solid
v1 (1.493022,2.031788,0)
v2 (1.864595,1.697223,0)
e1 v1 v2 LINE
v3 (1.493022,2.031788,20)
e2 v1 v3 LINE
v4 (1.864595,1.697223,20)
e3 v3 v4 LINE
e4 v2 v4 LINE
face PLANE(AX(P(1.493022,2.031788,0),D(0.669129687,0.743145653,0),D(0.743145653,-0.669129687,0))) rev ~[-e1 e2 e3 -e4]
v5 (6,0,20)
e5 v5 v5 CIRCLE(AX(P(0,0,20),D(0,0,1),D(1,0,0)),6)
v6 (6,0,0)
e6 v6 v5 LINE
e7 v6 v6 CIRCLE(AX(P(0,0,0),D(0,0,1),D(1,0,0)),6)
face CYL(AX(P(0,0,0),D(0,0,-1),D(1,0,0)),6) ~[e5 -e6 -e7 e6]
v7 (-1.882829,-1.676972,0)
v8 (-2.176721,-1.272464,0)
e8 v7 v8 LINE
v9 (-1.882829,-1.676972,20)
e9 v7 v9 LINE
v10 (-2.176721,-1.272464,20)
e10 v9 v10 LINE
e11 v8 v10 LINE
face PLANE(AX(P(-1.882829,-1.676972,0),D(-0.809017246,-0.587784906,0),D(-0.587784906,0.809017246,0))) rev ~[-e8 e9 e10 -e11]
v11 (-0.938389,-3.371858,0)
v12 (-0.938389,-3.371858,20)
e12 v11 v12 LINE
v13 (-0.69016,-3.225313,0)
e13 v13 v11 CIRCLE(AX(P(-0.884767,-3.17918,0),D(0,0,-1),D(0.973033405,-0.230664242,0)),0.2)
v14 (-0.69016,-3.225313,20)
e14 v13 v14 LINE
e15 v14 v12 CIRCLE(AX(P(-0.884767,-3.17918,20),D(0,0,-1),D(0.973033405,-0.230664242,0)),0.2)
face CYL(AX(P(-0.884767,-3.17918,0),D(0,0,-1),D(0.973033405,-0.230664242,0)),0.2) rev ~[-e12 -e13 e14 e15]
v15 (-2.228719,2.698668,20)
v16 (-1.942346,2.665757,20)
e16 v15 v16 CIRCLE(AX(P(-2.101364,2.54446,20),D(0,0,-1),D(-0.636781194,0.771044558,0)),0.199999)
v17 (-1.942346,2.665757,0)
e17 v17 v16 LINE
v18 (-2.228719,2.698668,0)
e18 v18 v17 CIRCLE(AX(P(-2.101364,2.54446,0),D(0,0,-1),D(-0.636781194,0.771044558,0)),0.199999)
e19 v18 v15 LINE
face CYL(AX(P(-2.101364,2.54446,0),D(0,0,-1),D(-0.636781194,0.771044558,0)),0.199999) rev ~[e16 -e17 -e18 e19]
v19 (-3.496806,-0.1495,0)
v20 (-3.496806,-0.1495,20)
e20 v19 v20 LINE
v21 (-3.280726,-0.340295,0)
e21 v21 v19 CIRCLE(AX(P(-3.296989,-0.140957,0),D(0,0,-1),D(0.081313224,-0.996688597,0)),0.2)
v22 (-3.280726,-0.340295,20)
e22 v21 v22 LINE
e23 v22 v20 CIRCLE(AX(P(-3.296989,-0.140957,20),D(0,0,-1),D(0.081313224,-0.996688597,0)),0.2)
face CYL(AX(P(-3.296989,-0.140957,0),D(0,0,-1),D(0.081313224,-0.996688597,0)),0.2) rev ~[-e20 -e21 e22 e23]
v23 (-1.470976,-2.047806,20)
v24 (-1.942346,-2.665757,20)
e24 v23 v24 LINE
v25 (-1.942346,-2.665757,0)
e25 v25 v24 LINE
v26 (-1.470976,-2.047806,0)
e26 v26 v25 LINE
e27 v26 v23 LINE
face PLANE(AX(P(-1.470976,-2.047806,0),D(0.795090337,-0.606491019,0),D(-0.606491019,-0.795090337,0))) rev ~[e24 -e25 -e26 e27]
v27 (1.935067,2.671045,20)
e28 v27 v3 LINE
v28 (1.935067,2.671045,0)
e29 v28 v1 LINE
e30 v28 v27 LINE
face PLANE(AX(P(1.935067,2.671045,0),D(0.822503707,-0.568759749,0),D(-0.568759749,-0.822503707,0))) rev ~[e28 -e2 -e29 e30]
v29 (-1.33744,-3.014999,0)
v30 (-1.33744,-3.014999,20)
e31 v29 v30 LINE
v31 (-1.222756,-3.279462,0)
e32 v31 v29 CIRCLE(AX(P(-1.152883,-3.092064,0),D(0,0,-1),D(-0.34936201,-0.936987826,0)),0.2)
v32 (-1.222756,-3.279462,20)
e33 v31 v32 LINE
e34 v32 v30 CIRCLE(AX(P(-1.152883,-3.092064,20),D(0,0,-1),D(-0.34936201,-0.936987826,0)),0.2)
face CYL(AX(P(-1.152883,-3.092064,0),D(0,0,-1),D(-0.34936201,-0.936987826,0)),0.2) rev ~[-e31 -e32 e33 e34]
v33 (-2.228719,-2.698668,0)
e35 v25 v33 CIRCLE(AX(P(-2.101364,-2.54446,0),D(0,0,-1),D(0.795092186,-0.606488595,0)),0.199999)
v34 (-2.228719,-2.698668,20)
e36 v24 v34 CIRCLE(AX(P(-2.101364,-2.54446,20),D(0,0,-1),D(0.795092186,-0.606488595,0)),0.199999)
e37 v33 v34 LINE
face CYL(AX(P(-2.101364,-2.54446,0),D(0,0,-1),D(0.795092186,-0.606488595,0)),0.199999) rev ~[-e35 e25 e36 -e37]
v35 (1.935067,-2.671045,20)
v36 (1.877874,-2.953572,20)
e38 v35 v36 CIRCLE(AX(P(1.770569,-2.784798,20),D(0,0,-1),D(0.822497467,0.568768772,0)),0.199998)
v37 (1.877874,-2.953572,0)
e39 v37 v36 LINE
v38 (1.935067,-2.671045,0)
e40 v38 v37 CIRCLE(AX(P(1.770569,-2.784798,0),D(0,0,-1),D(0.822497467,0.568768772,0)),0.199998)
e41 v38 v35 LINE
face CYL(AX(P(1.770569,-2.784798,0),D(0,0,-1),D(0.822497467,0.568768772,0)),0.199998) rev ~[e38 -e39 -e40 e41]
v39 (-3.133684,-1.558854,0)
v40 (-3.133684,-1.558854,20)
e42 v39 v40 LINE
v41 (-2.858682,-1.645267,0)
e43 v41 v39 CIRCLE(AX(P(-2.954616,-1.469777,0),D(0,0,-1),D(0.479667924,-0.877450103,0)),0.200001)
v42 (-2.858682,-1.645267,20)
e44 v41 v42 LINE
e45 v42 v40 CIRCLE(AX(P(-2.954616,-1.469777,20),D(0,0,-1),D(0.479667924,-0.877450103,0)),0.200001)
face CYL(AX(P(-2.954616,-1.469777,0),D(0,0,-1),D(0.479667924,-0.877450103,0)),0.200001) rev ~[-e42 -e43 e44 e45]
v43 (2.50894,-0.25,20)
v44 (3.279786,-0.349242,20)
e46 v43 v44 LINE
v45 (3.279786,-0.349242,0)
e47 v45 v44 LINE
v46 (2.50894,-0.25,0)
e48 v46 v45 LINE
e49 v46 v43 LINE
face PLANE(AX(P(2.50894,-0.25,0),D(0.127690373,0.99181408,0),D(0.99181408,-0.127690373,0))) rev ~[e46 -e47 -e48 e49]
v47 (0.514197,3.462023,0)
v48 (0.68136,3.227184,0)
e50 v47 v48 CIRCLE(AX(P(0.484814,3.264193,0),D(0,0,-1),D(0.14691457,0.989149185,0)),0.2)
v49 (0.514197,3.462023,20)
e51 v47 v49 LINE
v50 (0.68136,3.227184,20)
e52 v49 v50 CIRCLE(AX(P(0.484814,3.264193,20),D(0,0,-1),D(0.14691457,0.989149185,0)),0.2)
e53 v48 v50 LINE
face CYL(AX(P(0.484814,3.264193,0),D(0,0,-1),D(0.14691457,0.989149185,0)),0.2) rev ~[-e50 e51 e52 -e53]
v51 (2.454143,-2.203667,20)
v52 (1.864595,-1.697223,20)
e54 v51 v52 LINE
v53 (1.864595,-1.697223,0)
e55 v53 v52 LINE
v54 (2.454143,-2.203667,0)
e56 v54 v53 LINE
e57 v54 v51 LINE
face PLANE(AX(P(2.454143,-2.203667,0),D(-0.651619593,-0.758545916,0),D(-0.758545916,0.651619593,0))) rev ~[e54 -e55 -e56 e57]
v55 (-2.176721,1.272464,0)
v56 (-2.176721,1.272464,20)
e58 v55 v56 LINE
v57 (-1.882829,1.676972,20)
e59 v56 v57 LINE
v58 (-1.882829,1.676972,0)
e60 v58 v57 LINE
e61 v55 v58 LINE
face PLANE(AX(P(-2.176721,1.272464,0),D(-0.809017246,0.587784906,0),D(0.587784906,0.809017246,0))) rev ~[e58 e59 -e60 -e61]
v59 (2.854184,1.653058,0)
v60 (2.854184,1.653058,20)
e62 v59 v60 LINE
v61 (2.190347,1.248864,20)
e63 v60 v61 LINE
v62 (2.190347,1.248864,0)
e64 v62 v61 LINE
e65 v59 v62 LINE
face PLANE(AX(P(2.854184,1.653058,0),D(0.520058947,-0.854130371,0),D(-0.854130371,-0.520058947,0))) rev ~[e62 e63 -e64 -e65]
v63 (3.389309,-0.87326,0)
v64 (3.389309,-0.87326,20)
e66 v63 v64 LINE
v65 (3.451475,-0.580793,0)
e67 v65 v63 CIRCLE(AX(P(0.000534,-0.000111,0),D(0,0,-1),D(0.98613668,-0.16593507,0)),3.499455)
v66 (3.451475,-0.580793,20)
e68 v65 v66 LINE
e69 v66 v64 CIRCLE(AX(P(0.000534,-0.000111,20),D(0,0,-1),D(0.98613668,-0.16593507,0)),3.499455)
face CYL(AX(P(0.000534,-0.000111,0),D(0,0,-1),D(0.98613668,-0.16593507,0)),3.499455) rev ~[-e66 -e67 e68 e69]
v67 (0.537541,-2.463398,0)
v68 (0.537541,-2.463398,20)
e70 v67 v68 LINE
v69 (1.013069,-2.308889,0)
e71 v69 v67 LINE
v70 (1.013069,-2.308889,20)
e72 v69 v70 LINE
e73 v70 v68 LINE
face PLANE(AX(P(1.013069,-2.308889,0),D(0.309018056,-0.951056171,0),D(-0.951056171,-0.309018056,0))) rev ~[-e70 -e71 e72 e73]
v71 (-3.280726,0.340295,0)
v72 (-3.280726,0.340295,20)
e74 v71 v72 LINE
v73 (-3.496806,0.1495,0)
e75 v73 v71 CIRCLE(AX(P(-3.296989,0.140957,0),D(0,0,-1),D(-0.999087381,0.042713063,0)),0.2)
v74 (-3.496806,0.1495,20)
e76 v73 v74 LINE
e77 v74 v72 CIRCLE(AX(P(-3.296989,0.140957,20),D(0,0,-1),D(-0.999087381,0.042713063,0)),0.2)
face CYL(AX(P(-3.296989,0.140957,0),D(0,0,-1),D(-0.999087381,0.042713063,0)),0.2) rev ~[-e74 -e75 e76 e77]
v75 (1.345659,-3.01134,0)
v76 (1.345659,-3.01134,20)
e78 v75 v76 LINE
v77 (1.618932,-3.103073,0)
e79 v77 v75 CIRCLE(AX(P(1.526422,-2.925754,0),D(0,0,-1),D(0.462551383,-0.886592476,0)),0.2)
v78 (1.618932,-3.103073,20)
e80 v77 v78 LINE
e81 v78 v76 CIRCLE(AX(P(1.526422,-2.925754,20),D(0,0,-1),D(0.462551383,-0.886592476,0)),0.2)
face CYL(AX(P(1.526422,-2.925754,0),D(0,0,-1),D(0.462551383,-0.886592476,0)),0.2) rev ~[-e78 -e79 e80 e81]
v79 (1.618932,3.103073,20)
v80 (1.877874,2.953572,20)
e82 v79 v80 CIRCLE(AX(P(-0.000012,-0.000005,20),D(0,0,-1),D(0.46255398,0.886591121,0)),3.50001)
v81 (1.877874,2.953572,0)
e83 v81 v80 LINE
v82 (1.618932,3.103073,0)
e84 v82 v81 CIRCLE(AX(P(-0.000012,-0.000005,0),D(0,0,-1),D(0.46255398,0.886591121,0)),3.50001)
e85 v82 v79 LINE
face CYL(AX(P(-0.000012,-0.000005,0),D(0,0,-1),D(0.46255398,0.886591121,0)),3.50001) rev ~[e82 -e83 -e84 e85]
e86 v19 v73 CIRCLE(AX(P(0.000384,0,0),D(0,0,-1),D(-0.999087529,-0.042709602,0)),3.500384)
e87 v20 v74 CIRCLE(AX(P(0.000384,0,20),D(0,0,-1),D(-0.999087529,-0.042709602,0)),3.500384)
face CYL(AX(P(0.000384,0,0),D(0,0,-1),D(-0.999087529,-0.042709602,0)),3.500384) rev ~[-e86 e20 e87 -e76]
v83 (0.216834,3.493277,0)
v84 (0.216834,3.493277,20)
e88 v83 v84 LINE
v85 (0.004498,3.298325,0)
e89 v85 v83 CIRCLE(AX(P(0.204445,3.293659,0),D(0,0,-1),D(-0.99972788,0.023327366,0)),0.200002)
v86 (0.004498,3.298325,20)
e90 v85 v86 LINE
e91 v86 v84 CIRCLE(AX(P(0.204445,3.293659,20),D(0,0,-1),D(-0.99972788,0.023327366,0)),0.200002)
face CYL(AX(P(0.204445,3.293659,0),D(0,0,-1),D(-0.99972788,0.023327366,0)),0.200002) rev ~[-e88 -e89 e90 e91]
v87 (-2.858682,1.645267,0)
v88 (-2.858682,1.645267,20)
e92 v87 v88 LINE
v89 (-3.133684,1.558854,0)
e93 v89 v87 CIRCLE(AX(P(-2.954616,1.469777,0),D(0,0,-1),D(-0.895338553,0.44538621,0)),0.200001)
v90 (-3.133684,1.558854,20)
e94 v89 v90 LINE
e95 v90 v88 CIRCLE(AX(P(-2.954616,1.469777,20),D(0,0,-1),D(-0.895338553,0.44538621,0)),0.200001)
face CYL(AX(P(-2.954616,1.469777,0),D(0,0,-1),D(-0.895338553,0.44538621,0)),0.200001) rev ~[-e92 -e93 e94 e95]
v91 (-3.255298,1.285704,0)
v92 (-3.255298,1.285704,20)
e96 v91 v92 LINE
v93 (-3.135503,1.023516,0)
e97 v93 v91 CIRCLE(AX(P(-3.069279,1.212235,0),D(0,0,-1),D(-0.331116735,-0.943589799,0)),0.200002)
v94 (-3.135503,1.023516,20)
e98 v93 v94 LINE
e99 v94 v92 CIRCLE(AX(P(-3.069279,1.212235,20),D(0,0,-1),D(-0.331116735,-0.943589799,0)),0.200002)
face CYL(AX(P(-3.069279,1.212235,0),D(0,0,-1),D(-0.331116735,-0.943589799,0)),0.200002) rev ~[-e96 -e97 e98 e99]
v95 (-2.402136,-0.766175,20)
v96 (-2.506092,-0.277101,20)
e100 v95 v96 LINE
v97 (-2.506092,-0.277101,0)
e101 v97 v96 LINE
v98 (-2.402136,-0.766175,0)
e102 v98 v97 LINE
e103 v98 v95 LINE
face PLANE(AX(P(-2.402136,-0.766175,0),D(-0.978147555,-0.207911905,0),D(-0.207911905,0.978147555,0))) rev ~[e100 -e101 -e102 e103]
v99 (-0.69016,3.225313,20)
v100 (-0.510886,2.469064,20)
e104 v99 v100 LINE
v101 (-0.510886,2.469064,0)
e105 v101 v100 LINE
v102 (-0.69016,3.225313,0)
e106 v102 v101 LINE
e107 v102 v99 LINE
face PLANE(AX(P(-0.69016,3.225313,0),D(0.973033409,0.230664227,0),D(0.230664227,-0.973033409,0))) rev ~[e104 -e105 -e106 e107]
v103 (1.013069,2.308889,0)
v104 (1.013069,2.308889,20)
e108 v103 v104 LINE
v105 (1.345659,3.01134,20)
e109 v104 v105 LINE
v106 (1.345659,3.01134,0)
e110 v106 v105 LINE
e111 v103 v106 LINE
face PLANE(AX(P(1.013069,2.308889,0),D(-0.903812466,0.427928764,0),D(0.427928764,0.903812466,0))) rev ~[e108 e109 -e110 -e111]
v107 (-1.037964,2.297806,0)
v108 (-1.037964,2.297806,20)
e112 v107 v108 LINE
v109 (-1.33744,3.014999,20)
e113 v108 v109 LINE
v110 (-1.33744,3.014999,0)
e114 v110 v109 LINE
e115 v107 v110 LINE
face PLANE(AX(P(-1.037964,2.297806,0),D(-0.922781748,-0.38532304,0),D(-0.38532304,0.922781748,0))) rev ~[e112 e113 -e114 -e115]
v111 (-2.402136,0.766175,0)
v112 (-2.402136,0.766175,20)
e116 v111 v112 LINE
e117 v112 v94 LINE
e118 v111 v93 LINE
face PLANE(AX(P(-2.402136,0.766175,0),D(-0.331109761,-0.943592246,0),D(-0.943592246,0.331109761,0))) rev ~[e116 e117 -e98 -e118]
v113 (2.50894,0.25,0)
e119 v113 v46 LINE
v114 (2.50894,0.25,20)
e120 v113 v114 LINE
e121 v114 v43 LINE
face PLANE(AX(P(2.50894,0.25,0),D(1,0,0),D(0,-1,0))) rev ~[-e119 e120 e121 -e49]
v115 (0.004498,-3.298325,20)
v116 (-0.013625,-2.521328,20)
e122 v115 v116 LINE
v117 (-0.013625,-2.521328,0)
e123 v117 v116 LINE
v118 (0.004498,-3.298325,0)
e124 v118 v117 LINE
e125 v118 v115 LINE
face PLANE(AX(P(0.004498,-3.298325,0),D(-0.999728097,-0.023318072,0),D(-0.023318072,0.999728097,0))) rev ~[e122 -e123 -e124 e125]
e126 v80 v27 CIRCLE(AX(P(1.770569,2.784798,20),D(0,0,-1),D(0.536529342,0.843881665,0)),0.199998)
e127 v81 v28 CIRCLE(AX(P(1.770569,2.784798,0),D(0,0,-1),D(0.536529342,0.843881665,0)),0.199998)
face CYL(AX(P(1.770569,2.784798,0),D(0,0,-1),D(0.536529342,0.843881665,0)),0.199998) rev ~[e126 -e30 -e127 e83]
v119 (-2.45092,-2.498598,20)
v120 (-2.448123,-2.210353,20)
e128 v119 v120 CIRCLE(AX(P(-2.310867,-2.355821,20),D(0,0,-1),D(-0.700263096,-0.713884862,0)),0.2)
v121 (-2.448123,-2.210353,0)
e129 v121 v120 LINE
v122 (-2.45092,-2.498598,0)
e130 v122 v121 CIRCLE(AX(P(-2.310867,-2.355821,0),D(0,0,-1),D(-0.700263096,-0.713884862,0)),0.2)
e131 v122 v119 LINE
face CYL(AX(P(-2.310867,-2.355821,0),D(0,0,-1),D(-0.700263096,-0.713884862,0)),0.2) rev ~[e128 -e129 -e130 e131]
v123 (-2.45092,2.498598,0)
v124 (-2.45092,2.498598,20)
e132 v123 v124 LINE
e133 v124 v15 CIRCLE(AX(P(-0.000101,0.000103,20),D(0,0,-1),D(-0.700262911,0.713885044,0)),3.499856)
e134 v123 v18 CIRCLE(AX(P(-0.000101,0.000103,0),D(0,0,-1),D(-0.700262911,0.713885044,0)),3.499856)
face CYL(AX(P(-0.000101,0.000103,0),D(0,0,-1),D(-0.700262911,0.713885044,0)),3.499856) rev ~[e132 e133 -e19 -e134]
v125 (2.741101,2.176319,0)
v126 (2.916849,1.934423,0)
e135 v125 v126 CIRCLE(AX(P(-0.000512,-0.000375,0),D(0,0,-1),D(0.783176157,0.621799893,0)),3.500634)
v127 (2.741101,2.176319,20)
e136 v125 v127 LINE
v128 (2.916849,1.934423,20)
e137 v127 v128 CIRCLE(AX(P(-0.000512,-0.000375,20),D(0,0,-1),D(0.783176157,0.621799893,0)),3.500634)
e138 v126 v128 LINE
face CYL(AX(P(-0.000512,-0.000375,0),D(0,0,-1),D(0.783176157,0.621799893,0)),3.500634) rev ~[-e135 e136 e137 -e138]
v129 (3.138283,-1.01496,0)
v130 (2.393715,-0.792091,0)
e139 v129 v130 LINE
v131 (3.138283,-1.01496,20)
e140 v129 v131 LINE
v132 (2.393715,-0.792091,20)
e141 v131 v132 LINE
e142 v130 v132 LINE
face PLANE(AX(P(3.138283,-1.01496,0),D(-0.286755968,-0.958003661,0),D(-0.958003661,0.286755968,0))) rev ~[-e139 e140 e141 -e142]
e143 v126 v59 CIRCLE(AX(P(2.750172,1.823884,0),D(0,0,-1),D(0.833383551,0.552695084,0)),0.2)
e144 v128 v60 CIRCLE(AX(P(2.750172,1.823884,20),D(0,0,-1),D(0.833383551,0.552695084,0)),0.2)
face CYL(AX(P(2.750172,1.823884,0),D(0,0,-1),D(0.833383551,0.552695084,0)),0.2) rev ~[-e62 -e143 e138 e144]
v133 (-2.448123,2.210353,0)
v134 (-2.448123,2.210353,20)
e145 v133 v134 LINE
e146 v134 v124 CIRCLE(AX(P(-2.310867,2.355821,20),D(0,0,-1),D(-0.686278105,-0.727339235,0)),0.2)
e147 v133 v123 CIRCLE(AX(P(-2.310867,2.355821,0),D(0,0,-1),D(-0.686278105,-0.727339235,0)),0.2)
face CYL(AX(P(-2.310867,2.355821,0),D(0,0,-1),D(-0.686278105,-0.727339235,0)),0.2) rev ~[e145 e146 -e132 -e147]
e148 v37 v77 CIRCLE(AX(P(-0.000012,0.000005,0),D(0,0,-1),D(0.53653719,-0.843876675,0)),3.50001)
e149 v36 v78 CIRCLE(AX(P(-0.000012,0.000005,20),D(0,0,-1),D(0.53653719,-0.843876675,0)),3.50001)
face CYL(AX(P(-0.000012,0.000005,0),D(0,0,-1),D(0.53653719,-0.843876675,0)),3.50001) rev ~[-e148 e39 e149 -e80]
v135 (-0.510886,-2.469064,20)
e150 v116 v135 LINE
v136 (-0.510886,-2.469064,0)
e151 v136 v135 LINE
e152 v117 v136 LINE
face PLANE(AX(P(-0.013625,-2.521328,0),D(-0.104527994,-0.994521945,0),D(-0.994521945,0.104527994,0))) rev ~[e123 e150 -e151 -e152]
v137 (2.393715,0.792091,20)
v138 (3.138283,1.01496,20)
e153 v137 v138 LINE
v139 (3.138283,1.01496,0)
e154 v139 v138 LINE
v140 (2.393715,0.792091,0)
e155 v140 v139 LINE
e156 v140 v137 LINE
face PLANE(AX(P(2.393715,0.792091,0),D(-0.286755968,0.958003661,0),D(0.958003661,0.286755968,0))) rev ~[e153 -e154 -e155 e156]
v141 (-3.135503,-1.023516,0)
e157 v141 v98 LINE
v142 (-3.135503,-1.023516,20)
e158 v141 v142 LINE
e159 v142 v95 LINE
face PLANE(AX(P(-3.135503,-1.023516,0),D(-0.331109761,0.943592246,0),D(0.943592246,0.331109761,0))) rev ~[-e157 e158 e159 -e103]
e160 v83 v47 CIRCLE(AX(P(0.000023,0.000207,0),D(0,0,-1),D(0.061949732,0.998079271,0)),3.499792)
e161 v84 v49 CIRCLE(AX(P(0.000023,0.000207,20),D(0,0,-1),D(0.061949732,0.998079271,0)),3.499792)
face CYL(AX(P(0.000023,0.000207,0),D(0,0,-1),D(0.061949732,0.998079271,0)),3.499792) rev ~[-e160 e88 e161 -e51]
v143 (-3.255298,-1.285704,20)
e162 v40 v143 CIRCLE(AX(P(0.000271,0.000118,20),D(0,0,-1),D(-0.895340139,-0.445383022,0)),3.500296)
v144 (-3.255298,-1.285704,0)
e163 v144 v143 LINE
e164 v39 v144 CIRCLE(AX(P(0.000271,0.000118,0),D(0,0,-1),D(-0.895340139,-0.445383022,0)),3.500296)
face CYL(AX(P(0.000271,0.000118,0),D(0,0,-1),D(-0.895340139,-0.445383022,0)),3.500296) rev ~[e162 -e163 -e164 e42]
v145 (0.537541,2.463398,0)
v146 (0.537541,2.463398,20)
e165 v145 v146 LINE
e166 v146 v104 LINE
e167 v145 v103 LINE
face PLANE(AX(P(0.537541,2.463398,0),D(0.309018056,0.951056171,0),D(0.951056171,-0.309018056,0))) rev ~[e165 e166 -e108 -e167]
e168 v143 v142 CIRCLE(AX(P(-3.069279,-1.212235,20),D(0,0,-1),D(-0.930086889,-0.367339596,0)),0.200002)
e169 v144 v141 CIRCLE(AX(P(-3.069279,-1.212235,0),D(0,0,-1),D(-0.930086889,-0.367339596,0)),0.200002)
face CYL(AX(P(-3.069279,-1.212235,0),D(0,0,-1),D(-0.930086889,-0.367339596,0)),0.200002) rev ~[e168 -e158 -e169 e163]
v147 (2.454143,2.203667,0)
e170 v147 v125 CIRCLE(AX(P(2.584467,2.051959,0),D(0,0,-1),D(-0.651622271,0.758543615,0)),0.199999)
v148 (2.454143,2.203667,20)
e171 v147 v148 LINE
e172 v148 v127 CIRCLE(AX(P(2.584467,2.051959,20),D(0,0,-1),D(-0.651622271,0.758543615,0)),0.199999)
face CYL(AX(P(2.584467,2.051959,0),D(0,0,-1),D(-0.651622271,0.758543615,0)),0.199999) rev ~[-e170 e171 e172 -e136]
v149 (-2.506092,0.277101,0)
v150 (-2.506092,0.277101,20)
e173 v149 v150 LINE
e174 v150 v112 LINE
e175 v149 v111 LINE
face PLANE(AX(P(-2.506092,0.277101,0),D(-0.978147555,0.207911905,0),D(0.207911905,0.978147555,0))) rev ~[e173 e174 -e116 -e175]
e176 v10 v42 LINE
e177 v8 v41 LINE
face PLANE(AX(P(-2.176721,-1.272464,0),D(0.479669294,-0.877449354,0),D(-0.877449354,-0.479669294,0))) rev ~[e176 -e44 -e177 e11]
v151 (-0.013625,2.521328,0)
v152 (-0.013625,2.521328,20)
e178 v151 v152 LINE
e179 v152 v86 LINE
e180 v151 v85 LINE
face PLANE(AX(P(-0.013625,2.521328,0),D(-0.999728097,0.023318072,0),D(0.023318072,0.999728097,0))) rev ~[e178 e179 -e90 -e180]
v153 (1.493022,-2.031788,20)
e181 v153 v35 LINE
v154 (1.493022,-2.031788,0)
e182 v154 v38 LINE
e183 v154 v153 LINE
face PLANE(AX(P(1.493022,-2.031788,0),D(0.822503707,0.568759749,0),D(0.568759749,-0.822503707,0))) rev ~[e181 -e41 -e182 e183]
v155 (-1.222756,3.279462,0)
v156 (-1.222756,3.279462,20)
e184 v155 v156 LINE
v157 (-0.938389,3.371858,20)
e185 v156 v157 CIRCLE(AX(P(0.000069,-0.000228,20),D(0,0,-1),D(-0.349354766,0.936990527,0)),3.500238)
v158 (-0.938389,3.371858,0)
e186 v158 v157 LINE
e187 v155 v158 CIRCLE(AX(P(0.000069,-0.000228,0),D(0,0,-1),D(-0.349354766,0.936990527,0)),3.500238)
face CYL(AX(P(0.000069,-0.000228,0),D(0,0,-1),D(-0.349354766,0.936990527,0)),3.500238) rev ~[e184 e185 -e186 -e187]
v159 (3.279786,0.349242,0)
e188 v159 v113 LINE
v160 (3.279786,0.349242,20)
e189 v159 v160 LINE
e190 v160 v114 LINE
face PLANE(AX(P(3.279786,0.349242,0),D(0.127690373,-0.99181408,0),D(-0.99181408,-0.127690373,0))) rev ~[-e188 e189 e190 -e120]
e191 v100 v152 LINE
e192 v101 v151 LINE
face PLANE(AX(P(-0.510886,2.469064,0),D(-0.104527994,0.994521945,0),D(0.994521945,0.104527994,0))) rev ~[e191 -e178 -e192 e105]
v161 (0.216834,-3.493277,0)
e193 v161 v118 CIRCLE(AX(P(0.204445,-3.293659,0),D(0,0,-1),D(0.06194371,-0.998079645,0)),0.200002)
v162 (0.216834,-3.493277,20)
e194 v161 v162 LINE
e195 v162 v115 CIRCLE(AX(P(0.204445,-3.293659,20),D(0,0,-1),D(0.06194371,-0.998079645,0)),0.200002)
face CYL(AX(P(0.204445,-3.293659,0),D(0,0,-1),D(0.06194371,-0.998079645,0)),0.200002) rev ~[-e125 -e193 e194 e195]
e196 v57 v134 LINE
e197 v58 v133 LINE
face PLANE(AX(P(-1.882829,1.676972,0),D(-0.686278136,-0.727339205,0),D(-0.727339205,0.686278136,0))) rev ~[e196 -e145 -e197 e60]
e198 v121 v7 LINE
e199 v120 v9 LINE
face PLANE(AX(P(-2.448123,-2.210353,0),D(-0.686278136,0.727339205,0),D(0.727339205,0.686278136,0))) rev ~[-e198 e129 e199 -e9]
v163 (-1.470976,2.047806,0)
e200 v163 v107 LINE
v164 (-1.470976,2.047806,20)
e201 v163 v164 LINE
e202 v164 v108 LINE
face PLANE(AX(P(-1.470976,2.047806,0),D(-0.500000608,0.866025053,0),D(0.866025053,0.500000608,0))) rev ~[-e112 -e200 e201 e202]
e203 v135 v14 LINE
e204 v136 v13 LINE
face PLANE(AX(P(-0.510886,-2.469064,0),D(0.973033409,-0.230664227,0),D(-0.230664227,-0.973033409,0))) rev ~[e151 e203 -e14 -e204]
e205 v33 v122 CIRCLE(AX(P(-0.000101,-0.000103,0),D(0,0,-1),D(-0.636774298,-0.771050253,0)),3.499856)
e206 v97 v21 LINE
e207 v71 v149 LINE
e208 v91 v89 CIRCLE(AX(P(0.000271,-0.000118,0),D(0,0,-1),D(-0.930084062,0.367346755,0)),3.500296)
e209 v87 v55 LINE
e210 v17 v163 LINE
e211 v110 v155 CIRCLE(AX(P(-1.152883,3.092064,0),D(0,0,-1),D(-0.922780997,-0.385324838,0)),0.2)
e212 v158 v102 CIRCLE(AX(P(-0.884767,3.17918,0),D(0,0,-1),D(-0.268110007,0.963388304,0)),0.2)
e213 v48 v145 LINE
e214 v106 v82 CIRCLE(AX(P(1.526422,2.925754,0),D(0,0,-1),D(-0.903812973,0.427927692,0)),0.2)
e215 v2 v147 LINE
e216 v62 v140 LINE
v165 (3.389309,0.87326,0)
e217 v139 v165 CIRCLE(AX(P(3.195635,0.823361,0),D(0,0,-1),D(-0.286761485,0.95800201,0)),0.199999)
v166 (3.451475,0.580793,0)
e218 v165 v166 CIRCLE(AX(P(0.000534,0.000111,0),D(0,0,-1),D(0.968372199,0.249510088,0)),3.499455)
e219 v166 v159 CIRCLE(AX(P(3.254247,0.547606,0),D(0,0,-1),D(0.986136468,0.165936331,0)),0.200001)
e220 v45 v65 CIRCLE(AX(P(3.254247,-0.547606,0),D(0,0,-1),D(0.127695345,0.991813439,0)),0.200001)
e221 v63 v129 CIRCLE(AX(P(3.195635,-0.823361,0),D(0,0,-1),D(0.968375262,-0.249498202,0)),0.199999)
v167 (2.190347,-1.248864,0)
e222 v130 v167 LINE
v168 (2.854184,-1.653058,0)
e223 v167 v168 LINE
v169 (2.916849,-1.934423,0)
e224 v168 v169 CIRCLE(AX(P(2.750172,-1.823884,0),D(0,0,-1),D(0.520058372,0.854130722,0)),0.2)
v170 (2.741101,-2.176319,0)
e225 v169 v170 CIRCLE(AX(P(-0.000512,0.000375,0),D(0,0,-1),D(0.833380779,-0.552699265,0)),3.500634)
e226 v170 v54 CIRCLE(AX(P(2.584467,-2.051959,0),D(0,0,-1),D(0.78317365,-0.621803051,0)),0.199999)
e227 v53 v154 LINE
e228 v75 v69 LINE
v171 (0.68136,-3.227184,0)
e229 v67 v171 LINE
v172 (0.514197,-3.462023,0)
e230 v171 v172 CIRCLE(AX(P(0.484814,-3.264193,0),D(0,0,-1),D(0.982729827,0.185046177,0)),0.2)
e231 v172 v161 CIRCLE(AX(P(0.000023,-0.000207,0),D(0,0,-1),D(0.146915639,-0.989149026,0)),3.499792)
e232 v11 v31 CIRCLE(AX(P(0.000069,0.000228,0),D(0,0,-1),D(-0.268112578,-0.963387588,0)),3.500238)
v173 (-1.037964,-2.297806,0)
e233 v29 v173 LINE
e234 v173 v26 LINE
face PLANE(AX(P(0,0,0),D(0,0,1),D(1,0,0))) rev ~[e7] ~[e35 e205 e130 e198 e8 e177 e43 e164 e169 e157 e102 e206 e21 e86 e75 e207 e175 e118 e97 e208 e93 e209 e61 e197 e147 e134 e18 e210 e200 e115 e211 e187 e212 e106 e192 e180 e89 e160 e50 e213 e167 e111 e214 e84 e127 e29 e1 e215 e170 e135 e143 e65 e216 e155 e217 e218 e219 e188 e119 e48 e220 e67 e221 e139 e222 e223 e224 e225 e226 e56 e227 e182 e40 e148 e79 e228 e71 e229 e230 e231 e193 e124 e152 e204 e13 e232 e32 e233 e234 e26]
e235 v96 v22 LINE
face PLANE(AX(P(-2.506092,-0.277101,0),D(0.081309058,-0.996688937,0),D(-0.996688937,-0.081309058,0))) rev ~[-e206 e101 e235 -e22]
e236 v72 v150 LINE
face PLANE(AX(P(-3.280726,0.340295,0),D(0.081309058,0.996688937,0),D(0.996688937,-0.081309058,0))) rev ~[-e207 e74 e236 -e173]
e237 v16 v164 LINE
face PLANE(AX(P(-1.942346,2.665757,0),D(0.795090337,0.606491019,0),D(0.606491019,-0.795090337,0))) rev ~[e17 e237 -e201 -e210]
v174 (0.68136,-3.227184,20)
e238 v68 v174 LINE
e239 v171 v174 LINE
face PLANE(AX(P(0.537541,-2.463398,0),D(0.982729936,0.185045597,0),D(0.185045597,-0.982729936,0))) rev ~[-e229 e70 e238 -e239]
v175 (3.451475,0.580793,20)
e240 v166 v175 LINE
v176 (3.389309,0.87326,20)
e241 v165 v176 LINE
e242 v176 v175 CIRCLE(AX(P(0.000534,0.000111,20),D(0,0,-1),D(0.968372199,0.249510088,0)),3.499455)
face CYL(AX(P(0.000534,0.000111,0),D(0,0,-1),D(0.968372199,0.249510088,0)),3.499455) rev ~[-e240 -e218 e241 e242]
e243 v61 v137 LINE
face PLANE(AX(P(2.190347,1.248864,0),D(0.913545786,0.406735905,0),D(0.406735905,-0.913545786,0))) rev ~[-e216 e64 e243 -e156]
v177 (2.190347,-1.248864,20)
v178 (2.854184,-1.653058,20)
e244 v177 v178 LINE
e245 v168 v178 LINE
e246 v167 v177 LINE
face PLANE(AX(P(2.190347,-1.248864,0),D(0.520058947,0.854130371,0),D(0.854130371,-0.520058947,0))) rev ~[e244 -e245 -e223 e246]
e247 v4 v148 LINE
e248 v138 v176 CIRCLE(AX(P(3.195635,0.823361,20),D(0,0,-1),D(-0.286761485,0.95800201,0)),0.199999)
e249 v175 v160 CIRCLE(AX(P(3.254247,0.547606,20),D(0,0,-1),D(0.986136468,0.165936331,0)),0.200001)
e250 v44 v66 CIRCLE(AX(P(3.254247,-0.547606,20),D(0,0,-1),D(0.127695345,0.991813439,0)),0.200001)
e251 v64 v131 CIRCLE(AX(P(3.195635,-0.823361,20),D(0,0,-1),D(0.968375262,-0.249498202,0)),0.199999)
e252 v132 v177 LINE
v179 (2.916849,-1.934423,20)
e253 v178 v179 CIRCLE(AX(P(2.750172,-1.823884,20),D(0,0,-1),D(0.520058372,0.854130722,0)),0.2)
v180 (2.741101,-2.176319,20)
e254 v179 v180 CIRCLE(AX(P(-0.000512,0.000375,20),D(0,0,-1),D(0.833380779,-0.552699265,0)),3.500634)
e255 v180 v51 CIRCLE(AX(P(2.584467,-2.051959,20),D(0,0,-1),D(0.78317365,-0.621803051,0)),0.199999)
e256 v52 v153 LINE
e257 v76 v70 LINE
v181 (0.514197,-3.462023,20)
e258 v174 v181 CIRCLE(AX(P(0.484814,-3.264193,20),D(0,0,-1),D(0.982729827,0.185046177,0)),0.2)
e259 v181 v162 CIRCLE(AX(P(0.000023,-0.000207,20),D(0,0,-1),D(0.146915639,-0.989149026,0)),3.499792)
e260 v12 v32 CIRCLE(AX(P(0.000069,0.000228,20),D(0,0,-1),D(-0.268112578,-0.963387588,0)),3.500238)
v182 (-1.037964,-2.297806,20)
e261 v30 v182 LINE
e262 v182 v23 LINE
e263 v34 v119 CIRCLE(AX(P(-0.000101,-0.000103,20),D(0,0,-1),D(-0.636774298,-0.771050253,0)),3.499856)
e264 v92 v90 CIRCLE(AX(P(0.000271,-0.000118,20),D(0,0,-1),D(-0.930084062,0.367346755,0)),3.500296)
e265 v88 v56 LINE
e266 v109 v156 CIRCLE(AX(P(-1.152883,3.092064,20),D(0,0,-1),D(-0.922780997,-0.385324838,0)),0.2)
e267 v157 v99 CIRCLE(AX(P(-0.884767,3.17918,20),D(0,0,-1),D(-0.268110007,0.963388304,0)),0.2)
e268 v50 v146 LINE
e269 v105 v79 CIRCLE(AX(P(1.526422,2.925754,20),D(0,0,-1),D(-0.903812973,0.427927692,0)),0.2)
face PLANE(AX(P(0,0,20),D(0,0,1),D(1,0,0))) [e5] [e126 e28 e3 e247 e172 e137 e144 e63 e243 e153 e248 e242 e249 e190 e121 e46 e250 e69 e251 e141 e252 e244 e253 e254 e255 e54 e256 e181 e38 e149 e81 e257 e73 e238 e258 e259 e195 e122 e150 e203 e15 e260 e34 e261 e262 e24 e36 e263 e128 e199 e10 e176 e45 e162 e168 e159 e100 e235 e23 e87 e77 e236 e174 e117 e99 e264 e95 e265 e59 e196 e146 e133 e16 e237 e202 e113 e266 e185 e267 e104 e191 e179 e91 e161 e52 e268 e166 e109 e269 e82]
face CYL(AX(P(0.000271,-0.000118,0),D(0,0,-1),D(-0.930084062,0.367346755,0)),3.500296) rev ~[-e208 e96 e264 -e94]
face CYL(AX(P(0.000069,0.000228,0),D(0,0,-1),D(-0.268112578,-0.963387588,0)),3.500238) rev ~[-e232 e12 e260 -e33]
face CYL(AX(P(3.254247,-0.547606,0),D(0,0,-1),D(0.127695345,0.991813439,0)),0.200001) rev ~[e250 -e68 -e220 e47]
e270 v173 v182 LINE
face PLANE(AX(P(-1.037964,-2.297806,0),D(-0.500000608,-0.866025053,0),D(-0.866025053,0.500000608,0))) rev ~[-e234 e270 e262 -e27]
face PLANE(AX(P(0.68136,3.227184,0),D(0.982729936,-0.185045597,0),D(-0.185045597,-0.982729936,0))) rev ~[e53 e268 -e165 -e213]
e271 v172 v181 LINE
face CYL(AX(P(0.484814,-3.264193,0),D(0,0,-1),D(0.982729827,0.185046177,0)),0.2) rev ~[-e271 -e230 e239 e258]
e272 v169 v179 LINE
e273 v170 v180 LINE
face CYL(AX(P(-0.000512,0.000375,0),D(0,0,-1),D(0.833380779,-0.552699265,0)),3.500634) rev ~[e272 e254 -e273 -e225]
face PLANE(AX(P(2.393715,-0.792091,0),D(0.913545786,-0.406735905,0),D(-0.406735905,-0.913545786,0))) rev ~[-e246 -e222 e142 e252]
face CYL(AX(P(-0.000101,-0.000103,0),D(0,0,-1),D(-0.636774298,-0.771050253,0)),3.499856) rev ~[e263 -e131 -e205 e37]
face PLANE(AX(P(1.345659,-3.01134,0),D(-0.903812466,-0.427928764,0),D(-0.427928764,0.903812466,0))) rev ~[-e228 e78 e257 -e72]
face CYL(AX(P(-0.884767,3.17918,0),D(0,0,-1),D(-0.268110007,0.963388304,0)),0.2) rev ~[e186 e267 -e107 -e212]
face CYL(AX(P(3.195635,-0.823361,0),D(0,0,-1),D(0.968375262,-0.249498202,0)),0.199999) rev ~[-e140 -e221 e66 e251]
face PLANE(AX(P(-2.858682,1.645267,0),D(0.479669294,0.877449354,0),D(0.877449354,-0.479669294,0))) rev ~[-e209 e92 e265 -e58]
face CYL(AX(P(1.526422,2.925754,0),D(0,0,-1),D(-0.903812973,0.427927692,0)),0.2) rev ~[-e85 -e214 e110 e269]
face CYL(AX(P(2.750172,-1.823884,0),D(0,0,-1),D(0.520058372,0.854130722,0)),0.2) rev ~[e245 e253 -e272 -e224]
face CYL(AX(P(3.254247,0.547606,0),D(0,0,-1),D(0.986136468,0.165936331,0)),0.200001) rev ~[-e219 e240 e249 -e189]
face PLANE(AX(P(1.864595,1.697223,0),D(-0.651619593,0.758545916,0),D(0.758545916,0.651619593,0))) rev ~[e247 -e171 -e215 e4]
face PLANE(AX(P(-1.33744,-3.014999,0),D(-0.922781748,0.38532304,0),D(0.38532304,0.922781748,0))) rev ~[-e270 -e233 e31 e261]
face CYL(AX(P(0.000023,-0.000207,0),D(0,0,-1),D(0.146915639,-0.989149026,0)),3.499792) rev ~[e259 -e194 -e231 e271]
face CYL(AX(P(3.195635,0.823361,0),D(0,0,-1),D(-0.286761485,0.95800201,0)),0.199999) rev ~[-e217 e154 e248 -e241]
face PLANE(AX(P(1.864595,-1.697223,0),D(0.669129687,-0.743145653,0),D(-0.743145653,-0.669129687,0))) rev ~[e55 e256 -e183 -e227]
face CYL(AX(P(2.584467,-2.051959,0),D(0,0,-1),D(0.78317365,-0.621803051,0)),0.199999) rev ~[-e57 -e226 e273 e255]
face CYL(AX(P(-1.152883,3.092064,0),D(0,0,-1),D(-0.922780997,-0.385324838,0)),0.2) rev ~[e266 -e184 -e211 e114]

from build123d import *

# Parameters (mm, degrees)
F0_R     = 6
F1_DEPTH = 20


with BuildPart() as f1:
    # F0 (on Top) → F1 (new body)
    with BuildSketch(Plane.XY):
        Circle(F0_R)
        with BuildLine():
            Line((3.279786, 0.349242), (2.50894, 0.25))
            Line((2.50894, 0.25), (2.50894, -0.25))
            Line((2.50894, -0.25), (3.279786, -0.349242))
            ThreePointArc((3.279786, -0.349242), (3.414903, -0.428484), (3.451475, -0.580793))
            ThreePointArc((3.451475, -0.580793), (3.423517, -0.727691), (3.389309, -0.87326))
            ThreePointArc((3.389309, -0.87326), (3.293949, -0.997527), (3.138283, -1.01496))
            Line((3.138283, -1.01496), (2.393715, -0.792091))
            Line((2.393715, -0.792091), (2.190347, -1.248864))
            Line((2.190347, -1.248864), (2.854184, -1.653058))
            ThreePointArc((2.854184, -1.653058), (2.945389, -1.780405), (2.916849, -1.934423))
            ThreePointArc((2.916849, -1.934423), (2.831559, -2.057248), (2.741101, -2.176319))
            ThreePointArc((2.741101, -2.176319), (2.603441, -2.251056), (2.454143, -2.203667))
            Line((2.454143, -2.203667), (1.864595, -1.697223))
            Line((1.864595, -1.697223), (1.493022, -2.031788))
            Line((1.493022, -2.031788), (1.935067, -2.671045))
            ThreePointArc((1.935067, -2.671045), (1.966591, -2.824479), (1.877874, -2.953572))
            ThreePointArc((1.877874, -2.953572), (1.75, -3.031089), (1.618932, -3.103073))
            ThreePointArc((1.618932, -3.103073), (1.462775, -3.115357), (1.345659, -3.01134))
            Line((1.345659, -3.01134), (1.013069, -2.308889))
            Line((1.013069, -2.308889), (0.537541, -2.463398))
            Line((0.537541, -2.463398), (0.68136, -3.227184))
            ThreePointArc((0.68136, -3.227184), (0.647751, -3.380174), (0.514197, -3.462023))
            ThreePointArc((0.514197, -3.462023), (0.36585, -3.480827), (0.216834, -3.493277))
            ThreePointArc((0.216834, -3.493277), (0.069182, -3.440984), (0.004498, -3.298325))
            Line((0.004498, -3.298325), (-0.013625, -2.521328))
            Line((-0.013625, -2.521328), (-0.510886, -2.469064))
            Line((-0.510886, -2.469064), (-0.69016, -3.225313))
            ThreePointArc((-0.69016, -3.225313), (-0.783091, -3.351407), (-0.938389, -3.371858))
            ThreePointArc((-0.938389, -3.371858), (-1.081559, -3.328698), (-1.222756, -3.279462))
            ThreePointArc((-1.222756, -3.279462), (-1.336374, -3.171634), (-1.33744, -3.014999))
            Line((-1.33744, -3.014999), (-1.037964, -2.297806))
            Line((-1.037964, -2.297806), (-1.470976, -2.047806))
            Line((-1.470976, -2.047806), (-1.942346, -2.665757))
            ThreePointArc((-1.942346, -2.665757), (-2.078529, -2.743151), (-2.228719, -2.698668))
            ThreePointArc((-2.228719, -2.698668), (-2.341957, -2.601007), (-2.45092, -2.498598))
            ThreePointArc((-2.45092, -2.498598), (-2.510858, -2.35388), (-2.448123, -2.210353))
            Line((-2.448123, -2.210353), (-1.882829, -1.676972))
            Line((-1.882829, -1.676972), (-2.176721, -1.272464))
            Line((-2.176721, -1.272464), (-2.858682, -1.645267))
            ThreePointArc((-2.858682, -1.645267), (-3.014571, -1.660579), (-3.133684, -1.558854))
            ThreePointArc((-3.133684, -1.558854), (-3.197409, -1.423578), (-3.255298, -1.285704))
            ThreePointArc((-3.255298, -1.285704), (-3.251192, -1.129119), (-3.135503, -1.023516))
            Line((-3.135503, -1.023516), (-2.402136, -0.766175))
            Line((-2.402136, -0.766175), (-2.506092, -0.277101))
            Line((-2.506092, -0.277101), (-3.280726, -0.340295))
            ThreePointArc((-3.280726, -0.340295), (-3.429366, -0.290878), (-3.496806, -0.1495))
            ThreePointArc((-3.496806, -0.1495), (-3.5, 0), (-3.496806, 0.1495))
            ThreePointArc((-3.496806, 0.1495), (-3.429366, 0.290878), (-3.280726, 0.340295))
            Line((-3.280726, 0.340295), (-2.506092, 0.277101))
            Line((-2.506092, 0.277101), (-2.402136, 0.766175))
            Line((-2.402136, 0.766175), (-3.135503, 1.023516))
            ThreePointArc((-3.135503, 1.023516), (-3.251192, 1.129119), (-3.255298, 1.285704))
            ThreePointArc((-3.255298, 1.285704), (-3.197409, 1.423578), (-3.133684, 1.558854))
            ThreePointArc((-3.133684, 1.558854), (-3.014571, 1.660579), (-2.858682, 1.645267))
            Line((-2.858682, 1.645267), (-2.176721, 1.272464))
            Line((-2.176721, 1.272464), (-1.882829, 1.676972))
            Line((-1.882829, 1.676972), (-2.448123, 2.210353))
            ThreePointArc((-2.448123, 2.210353), (-2.510858, 2.35388), (-2.45092, 2.498598))
            ThreePointArc((-2.45092, 2.498598), (-2.341957, 2.601007), (-2.228719, 2.698668))
            ThreePointArc((-2.228719, 2.698668), (-2.078529, 2.743151), (-1.942346, 2.665757))
            Line((-1.942346, 2.665757), (-1.470976, 2.047806))
            Line((-1.470976, 2.047806), (-1.037964, 2.297806))
            Line((-1.037964, 2.297806), (-1.33744, 3.014999))
            ThreePointArc((-1.33744, 3.014999), (-1.336374, 3.171634), (-1.222756, 3.279462))
            ThreePointArc((-1.222756, 3.279462), (-1.081559, 3.328698), (-0.938389, 3.371858))
            ThreePointArc((-0.938389, 3.371858), (-0.783091, 3.351407), (-0.69016, 3.225313))
            Line((-0.69016, 3.225313), (-0.510886, 2.469064))
            Line((-0.510886, 2.469064), (-0.013625, 2.521328))
            Line((-0.013625, 2.521328), (0.004498, 3.298325))
            ThreePointArc((0.004498, 3.298325), (0.069182, 3.440984), (0.216834, 3.493277))
            ThreePointArc((0.216834, 3.493277), (0.36585, 3.480827), (0.514197, 3.462023))
            ThreePointArc((0.514197, 3.462023), (0.647751, 3.380174), (0.68136, 3.227184))
            Line((0.68136, 3.227184), (0.537541, 2.463398))
            Line((0.537541, 2.463398), (1.013069, 2.308889))
            Line((1.013069, 2.308889), (1.345659, 3.01134))
            ThreePointArc((1.345659, 3.01134), (1.462775, 3.115357), (1.618932, 3.103073))
            ThreePointArc((1.618932, 3.103073), (1.75, 3.031089), (1.877874, 2.953572))
            ThreePointArc((1.877874, 2.953572), (1.966591, 2.824479), (1.935067, 2.671045))
            Line((1.935067, 2.671045), (1.493022, 2.031788))
            Line((1.493022, 2.031788), (1.864595, 1.697223))
            Line((1.864595, 1.697223), (2.454143, 2.203667))
            ThreePointArc((2.454143, 2.203667), (2.603441, 2.251056), (2.741101, 2.176319))
            ThreePointArc((2.741101, 2.176319), (2.831559, 2.057248), (2.916849, 1.934423))
            ThreePointArc((2.916849, 1.934423), (2.945389, 1.780405), (2.854184, 1.653058))
            Line((2.854184, 1.653058), (2.190347, 1.248864))
            Line((2.190347, 1.248864), (2.393715, 0.792091))
            Line((2.393715, 0.792091), (3.138283, 1.01496))
            ThreePointArc((3.138283, 1.01496), (3.293949, 0.997527), (3.389309, 0.87326))
            ThreePointArc((3.389309, 0.87326), (3.423517, 0.727691), (3.451475, 0.580793))
            ThreePointArc((3.451475, 0.580793), (3.414903, 0.428484), (3.279786, 0.349242))
        make_face(mode=Mode.SUBTRACT)
    extrude(amount=F1_DEPTH)


solid = f1.part
